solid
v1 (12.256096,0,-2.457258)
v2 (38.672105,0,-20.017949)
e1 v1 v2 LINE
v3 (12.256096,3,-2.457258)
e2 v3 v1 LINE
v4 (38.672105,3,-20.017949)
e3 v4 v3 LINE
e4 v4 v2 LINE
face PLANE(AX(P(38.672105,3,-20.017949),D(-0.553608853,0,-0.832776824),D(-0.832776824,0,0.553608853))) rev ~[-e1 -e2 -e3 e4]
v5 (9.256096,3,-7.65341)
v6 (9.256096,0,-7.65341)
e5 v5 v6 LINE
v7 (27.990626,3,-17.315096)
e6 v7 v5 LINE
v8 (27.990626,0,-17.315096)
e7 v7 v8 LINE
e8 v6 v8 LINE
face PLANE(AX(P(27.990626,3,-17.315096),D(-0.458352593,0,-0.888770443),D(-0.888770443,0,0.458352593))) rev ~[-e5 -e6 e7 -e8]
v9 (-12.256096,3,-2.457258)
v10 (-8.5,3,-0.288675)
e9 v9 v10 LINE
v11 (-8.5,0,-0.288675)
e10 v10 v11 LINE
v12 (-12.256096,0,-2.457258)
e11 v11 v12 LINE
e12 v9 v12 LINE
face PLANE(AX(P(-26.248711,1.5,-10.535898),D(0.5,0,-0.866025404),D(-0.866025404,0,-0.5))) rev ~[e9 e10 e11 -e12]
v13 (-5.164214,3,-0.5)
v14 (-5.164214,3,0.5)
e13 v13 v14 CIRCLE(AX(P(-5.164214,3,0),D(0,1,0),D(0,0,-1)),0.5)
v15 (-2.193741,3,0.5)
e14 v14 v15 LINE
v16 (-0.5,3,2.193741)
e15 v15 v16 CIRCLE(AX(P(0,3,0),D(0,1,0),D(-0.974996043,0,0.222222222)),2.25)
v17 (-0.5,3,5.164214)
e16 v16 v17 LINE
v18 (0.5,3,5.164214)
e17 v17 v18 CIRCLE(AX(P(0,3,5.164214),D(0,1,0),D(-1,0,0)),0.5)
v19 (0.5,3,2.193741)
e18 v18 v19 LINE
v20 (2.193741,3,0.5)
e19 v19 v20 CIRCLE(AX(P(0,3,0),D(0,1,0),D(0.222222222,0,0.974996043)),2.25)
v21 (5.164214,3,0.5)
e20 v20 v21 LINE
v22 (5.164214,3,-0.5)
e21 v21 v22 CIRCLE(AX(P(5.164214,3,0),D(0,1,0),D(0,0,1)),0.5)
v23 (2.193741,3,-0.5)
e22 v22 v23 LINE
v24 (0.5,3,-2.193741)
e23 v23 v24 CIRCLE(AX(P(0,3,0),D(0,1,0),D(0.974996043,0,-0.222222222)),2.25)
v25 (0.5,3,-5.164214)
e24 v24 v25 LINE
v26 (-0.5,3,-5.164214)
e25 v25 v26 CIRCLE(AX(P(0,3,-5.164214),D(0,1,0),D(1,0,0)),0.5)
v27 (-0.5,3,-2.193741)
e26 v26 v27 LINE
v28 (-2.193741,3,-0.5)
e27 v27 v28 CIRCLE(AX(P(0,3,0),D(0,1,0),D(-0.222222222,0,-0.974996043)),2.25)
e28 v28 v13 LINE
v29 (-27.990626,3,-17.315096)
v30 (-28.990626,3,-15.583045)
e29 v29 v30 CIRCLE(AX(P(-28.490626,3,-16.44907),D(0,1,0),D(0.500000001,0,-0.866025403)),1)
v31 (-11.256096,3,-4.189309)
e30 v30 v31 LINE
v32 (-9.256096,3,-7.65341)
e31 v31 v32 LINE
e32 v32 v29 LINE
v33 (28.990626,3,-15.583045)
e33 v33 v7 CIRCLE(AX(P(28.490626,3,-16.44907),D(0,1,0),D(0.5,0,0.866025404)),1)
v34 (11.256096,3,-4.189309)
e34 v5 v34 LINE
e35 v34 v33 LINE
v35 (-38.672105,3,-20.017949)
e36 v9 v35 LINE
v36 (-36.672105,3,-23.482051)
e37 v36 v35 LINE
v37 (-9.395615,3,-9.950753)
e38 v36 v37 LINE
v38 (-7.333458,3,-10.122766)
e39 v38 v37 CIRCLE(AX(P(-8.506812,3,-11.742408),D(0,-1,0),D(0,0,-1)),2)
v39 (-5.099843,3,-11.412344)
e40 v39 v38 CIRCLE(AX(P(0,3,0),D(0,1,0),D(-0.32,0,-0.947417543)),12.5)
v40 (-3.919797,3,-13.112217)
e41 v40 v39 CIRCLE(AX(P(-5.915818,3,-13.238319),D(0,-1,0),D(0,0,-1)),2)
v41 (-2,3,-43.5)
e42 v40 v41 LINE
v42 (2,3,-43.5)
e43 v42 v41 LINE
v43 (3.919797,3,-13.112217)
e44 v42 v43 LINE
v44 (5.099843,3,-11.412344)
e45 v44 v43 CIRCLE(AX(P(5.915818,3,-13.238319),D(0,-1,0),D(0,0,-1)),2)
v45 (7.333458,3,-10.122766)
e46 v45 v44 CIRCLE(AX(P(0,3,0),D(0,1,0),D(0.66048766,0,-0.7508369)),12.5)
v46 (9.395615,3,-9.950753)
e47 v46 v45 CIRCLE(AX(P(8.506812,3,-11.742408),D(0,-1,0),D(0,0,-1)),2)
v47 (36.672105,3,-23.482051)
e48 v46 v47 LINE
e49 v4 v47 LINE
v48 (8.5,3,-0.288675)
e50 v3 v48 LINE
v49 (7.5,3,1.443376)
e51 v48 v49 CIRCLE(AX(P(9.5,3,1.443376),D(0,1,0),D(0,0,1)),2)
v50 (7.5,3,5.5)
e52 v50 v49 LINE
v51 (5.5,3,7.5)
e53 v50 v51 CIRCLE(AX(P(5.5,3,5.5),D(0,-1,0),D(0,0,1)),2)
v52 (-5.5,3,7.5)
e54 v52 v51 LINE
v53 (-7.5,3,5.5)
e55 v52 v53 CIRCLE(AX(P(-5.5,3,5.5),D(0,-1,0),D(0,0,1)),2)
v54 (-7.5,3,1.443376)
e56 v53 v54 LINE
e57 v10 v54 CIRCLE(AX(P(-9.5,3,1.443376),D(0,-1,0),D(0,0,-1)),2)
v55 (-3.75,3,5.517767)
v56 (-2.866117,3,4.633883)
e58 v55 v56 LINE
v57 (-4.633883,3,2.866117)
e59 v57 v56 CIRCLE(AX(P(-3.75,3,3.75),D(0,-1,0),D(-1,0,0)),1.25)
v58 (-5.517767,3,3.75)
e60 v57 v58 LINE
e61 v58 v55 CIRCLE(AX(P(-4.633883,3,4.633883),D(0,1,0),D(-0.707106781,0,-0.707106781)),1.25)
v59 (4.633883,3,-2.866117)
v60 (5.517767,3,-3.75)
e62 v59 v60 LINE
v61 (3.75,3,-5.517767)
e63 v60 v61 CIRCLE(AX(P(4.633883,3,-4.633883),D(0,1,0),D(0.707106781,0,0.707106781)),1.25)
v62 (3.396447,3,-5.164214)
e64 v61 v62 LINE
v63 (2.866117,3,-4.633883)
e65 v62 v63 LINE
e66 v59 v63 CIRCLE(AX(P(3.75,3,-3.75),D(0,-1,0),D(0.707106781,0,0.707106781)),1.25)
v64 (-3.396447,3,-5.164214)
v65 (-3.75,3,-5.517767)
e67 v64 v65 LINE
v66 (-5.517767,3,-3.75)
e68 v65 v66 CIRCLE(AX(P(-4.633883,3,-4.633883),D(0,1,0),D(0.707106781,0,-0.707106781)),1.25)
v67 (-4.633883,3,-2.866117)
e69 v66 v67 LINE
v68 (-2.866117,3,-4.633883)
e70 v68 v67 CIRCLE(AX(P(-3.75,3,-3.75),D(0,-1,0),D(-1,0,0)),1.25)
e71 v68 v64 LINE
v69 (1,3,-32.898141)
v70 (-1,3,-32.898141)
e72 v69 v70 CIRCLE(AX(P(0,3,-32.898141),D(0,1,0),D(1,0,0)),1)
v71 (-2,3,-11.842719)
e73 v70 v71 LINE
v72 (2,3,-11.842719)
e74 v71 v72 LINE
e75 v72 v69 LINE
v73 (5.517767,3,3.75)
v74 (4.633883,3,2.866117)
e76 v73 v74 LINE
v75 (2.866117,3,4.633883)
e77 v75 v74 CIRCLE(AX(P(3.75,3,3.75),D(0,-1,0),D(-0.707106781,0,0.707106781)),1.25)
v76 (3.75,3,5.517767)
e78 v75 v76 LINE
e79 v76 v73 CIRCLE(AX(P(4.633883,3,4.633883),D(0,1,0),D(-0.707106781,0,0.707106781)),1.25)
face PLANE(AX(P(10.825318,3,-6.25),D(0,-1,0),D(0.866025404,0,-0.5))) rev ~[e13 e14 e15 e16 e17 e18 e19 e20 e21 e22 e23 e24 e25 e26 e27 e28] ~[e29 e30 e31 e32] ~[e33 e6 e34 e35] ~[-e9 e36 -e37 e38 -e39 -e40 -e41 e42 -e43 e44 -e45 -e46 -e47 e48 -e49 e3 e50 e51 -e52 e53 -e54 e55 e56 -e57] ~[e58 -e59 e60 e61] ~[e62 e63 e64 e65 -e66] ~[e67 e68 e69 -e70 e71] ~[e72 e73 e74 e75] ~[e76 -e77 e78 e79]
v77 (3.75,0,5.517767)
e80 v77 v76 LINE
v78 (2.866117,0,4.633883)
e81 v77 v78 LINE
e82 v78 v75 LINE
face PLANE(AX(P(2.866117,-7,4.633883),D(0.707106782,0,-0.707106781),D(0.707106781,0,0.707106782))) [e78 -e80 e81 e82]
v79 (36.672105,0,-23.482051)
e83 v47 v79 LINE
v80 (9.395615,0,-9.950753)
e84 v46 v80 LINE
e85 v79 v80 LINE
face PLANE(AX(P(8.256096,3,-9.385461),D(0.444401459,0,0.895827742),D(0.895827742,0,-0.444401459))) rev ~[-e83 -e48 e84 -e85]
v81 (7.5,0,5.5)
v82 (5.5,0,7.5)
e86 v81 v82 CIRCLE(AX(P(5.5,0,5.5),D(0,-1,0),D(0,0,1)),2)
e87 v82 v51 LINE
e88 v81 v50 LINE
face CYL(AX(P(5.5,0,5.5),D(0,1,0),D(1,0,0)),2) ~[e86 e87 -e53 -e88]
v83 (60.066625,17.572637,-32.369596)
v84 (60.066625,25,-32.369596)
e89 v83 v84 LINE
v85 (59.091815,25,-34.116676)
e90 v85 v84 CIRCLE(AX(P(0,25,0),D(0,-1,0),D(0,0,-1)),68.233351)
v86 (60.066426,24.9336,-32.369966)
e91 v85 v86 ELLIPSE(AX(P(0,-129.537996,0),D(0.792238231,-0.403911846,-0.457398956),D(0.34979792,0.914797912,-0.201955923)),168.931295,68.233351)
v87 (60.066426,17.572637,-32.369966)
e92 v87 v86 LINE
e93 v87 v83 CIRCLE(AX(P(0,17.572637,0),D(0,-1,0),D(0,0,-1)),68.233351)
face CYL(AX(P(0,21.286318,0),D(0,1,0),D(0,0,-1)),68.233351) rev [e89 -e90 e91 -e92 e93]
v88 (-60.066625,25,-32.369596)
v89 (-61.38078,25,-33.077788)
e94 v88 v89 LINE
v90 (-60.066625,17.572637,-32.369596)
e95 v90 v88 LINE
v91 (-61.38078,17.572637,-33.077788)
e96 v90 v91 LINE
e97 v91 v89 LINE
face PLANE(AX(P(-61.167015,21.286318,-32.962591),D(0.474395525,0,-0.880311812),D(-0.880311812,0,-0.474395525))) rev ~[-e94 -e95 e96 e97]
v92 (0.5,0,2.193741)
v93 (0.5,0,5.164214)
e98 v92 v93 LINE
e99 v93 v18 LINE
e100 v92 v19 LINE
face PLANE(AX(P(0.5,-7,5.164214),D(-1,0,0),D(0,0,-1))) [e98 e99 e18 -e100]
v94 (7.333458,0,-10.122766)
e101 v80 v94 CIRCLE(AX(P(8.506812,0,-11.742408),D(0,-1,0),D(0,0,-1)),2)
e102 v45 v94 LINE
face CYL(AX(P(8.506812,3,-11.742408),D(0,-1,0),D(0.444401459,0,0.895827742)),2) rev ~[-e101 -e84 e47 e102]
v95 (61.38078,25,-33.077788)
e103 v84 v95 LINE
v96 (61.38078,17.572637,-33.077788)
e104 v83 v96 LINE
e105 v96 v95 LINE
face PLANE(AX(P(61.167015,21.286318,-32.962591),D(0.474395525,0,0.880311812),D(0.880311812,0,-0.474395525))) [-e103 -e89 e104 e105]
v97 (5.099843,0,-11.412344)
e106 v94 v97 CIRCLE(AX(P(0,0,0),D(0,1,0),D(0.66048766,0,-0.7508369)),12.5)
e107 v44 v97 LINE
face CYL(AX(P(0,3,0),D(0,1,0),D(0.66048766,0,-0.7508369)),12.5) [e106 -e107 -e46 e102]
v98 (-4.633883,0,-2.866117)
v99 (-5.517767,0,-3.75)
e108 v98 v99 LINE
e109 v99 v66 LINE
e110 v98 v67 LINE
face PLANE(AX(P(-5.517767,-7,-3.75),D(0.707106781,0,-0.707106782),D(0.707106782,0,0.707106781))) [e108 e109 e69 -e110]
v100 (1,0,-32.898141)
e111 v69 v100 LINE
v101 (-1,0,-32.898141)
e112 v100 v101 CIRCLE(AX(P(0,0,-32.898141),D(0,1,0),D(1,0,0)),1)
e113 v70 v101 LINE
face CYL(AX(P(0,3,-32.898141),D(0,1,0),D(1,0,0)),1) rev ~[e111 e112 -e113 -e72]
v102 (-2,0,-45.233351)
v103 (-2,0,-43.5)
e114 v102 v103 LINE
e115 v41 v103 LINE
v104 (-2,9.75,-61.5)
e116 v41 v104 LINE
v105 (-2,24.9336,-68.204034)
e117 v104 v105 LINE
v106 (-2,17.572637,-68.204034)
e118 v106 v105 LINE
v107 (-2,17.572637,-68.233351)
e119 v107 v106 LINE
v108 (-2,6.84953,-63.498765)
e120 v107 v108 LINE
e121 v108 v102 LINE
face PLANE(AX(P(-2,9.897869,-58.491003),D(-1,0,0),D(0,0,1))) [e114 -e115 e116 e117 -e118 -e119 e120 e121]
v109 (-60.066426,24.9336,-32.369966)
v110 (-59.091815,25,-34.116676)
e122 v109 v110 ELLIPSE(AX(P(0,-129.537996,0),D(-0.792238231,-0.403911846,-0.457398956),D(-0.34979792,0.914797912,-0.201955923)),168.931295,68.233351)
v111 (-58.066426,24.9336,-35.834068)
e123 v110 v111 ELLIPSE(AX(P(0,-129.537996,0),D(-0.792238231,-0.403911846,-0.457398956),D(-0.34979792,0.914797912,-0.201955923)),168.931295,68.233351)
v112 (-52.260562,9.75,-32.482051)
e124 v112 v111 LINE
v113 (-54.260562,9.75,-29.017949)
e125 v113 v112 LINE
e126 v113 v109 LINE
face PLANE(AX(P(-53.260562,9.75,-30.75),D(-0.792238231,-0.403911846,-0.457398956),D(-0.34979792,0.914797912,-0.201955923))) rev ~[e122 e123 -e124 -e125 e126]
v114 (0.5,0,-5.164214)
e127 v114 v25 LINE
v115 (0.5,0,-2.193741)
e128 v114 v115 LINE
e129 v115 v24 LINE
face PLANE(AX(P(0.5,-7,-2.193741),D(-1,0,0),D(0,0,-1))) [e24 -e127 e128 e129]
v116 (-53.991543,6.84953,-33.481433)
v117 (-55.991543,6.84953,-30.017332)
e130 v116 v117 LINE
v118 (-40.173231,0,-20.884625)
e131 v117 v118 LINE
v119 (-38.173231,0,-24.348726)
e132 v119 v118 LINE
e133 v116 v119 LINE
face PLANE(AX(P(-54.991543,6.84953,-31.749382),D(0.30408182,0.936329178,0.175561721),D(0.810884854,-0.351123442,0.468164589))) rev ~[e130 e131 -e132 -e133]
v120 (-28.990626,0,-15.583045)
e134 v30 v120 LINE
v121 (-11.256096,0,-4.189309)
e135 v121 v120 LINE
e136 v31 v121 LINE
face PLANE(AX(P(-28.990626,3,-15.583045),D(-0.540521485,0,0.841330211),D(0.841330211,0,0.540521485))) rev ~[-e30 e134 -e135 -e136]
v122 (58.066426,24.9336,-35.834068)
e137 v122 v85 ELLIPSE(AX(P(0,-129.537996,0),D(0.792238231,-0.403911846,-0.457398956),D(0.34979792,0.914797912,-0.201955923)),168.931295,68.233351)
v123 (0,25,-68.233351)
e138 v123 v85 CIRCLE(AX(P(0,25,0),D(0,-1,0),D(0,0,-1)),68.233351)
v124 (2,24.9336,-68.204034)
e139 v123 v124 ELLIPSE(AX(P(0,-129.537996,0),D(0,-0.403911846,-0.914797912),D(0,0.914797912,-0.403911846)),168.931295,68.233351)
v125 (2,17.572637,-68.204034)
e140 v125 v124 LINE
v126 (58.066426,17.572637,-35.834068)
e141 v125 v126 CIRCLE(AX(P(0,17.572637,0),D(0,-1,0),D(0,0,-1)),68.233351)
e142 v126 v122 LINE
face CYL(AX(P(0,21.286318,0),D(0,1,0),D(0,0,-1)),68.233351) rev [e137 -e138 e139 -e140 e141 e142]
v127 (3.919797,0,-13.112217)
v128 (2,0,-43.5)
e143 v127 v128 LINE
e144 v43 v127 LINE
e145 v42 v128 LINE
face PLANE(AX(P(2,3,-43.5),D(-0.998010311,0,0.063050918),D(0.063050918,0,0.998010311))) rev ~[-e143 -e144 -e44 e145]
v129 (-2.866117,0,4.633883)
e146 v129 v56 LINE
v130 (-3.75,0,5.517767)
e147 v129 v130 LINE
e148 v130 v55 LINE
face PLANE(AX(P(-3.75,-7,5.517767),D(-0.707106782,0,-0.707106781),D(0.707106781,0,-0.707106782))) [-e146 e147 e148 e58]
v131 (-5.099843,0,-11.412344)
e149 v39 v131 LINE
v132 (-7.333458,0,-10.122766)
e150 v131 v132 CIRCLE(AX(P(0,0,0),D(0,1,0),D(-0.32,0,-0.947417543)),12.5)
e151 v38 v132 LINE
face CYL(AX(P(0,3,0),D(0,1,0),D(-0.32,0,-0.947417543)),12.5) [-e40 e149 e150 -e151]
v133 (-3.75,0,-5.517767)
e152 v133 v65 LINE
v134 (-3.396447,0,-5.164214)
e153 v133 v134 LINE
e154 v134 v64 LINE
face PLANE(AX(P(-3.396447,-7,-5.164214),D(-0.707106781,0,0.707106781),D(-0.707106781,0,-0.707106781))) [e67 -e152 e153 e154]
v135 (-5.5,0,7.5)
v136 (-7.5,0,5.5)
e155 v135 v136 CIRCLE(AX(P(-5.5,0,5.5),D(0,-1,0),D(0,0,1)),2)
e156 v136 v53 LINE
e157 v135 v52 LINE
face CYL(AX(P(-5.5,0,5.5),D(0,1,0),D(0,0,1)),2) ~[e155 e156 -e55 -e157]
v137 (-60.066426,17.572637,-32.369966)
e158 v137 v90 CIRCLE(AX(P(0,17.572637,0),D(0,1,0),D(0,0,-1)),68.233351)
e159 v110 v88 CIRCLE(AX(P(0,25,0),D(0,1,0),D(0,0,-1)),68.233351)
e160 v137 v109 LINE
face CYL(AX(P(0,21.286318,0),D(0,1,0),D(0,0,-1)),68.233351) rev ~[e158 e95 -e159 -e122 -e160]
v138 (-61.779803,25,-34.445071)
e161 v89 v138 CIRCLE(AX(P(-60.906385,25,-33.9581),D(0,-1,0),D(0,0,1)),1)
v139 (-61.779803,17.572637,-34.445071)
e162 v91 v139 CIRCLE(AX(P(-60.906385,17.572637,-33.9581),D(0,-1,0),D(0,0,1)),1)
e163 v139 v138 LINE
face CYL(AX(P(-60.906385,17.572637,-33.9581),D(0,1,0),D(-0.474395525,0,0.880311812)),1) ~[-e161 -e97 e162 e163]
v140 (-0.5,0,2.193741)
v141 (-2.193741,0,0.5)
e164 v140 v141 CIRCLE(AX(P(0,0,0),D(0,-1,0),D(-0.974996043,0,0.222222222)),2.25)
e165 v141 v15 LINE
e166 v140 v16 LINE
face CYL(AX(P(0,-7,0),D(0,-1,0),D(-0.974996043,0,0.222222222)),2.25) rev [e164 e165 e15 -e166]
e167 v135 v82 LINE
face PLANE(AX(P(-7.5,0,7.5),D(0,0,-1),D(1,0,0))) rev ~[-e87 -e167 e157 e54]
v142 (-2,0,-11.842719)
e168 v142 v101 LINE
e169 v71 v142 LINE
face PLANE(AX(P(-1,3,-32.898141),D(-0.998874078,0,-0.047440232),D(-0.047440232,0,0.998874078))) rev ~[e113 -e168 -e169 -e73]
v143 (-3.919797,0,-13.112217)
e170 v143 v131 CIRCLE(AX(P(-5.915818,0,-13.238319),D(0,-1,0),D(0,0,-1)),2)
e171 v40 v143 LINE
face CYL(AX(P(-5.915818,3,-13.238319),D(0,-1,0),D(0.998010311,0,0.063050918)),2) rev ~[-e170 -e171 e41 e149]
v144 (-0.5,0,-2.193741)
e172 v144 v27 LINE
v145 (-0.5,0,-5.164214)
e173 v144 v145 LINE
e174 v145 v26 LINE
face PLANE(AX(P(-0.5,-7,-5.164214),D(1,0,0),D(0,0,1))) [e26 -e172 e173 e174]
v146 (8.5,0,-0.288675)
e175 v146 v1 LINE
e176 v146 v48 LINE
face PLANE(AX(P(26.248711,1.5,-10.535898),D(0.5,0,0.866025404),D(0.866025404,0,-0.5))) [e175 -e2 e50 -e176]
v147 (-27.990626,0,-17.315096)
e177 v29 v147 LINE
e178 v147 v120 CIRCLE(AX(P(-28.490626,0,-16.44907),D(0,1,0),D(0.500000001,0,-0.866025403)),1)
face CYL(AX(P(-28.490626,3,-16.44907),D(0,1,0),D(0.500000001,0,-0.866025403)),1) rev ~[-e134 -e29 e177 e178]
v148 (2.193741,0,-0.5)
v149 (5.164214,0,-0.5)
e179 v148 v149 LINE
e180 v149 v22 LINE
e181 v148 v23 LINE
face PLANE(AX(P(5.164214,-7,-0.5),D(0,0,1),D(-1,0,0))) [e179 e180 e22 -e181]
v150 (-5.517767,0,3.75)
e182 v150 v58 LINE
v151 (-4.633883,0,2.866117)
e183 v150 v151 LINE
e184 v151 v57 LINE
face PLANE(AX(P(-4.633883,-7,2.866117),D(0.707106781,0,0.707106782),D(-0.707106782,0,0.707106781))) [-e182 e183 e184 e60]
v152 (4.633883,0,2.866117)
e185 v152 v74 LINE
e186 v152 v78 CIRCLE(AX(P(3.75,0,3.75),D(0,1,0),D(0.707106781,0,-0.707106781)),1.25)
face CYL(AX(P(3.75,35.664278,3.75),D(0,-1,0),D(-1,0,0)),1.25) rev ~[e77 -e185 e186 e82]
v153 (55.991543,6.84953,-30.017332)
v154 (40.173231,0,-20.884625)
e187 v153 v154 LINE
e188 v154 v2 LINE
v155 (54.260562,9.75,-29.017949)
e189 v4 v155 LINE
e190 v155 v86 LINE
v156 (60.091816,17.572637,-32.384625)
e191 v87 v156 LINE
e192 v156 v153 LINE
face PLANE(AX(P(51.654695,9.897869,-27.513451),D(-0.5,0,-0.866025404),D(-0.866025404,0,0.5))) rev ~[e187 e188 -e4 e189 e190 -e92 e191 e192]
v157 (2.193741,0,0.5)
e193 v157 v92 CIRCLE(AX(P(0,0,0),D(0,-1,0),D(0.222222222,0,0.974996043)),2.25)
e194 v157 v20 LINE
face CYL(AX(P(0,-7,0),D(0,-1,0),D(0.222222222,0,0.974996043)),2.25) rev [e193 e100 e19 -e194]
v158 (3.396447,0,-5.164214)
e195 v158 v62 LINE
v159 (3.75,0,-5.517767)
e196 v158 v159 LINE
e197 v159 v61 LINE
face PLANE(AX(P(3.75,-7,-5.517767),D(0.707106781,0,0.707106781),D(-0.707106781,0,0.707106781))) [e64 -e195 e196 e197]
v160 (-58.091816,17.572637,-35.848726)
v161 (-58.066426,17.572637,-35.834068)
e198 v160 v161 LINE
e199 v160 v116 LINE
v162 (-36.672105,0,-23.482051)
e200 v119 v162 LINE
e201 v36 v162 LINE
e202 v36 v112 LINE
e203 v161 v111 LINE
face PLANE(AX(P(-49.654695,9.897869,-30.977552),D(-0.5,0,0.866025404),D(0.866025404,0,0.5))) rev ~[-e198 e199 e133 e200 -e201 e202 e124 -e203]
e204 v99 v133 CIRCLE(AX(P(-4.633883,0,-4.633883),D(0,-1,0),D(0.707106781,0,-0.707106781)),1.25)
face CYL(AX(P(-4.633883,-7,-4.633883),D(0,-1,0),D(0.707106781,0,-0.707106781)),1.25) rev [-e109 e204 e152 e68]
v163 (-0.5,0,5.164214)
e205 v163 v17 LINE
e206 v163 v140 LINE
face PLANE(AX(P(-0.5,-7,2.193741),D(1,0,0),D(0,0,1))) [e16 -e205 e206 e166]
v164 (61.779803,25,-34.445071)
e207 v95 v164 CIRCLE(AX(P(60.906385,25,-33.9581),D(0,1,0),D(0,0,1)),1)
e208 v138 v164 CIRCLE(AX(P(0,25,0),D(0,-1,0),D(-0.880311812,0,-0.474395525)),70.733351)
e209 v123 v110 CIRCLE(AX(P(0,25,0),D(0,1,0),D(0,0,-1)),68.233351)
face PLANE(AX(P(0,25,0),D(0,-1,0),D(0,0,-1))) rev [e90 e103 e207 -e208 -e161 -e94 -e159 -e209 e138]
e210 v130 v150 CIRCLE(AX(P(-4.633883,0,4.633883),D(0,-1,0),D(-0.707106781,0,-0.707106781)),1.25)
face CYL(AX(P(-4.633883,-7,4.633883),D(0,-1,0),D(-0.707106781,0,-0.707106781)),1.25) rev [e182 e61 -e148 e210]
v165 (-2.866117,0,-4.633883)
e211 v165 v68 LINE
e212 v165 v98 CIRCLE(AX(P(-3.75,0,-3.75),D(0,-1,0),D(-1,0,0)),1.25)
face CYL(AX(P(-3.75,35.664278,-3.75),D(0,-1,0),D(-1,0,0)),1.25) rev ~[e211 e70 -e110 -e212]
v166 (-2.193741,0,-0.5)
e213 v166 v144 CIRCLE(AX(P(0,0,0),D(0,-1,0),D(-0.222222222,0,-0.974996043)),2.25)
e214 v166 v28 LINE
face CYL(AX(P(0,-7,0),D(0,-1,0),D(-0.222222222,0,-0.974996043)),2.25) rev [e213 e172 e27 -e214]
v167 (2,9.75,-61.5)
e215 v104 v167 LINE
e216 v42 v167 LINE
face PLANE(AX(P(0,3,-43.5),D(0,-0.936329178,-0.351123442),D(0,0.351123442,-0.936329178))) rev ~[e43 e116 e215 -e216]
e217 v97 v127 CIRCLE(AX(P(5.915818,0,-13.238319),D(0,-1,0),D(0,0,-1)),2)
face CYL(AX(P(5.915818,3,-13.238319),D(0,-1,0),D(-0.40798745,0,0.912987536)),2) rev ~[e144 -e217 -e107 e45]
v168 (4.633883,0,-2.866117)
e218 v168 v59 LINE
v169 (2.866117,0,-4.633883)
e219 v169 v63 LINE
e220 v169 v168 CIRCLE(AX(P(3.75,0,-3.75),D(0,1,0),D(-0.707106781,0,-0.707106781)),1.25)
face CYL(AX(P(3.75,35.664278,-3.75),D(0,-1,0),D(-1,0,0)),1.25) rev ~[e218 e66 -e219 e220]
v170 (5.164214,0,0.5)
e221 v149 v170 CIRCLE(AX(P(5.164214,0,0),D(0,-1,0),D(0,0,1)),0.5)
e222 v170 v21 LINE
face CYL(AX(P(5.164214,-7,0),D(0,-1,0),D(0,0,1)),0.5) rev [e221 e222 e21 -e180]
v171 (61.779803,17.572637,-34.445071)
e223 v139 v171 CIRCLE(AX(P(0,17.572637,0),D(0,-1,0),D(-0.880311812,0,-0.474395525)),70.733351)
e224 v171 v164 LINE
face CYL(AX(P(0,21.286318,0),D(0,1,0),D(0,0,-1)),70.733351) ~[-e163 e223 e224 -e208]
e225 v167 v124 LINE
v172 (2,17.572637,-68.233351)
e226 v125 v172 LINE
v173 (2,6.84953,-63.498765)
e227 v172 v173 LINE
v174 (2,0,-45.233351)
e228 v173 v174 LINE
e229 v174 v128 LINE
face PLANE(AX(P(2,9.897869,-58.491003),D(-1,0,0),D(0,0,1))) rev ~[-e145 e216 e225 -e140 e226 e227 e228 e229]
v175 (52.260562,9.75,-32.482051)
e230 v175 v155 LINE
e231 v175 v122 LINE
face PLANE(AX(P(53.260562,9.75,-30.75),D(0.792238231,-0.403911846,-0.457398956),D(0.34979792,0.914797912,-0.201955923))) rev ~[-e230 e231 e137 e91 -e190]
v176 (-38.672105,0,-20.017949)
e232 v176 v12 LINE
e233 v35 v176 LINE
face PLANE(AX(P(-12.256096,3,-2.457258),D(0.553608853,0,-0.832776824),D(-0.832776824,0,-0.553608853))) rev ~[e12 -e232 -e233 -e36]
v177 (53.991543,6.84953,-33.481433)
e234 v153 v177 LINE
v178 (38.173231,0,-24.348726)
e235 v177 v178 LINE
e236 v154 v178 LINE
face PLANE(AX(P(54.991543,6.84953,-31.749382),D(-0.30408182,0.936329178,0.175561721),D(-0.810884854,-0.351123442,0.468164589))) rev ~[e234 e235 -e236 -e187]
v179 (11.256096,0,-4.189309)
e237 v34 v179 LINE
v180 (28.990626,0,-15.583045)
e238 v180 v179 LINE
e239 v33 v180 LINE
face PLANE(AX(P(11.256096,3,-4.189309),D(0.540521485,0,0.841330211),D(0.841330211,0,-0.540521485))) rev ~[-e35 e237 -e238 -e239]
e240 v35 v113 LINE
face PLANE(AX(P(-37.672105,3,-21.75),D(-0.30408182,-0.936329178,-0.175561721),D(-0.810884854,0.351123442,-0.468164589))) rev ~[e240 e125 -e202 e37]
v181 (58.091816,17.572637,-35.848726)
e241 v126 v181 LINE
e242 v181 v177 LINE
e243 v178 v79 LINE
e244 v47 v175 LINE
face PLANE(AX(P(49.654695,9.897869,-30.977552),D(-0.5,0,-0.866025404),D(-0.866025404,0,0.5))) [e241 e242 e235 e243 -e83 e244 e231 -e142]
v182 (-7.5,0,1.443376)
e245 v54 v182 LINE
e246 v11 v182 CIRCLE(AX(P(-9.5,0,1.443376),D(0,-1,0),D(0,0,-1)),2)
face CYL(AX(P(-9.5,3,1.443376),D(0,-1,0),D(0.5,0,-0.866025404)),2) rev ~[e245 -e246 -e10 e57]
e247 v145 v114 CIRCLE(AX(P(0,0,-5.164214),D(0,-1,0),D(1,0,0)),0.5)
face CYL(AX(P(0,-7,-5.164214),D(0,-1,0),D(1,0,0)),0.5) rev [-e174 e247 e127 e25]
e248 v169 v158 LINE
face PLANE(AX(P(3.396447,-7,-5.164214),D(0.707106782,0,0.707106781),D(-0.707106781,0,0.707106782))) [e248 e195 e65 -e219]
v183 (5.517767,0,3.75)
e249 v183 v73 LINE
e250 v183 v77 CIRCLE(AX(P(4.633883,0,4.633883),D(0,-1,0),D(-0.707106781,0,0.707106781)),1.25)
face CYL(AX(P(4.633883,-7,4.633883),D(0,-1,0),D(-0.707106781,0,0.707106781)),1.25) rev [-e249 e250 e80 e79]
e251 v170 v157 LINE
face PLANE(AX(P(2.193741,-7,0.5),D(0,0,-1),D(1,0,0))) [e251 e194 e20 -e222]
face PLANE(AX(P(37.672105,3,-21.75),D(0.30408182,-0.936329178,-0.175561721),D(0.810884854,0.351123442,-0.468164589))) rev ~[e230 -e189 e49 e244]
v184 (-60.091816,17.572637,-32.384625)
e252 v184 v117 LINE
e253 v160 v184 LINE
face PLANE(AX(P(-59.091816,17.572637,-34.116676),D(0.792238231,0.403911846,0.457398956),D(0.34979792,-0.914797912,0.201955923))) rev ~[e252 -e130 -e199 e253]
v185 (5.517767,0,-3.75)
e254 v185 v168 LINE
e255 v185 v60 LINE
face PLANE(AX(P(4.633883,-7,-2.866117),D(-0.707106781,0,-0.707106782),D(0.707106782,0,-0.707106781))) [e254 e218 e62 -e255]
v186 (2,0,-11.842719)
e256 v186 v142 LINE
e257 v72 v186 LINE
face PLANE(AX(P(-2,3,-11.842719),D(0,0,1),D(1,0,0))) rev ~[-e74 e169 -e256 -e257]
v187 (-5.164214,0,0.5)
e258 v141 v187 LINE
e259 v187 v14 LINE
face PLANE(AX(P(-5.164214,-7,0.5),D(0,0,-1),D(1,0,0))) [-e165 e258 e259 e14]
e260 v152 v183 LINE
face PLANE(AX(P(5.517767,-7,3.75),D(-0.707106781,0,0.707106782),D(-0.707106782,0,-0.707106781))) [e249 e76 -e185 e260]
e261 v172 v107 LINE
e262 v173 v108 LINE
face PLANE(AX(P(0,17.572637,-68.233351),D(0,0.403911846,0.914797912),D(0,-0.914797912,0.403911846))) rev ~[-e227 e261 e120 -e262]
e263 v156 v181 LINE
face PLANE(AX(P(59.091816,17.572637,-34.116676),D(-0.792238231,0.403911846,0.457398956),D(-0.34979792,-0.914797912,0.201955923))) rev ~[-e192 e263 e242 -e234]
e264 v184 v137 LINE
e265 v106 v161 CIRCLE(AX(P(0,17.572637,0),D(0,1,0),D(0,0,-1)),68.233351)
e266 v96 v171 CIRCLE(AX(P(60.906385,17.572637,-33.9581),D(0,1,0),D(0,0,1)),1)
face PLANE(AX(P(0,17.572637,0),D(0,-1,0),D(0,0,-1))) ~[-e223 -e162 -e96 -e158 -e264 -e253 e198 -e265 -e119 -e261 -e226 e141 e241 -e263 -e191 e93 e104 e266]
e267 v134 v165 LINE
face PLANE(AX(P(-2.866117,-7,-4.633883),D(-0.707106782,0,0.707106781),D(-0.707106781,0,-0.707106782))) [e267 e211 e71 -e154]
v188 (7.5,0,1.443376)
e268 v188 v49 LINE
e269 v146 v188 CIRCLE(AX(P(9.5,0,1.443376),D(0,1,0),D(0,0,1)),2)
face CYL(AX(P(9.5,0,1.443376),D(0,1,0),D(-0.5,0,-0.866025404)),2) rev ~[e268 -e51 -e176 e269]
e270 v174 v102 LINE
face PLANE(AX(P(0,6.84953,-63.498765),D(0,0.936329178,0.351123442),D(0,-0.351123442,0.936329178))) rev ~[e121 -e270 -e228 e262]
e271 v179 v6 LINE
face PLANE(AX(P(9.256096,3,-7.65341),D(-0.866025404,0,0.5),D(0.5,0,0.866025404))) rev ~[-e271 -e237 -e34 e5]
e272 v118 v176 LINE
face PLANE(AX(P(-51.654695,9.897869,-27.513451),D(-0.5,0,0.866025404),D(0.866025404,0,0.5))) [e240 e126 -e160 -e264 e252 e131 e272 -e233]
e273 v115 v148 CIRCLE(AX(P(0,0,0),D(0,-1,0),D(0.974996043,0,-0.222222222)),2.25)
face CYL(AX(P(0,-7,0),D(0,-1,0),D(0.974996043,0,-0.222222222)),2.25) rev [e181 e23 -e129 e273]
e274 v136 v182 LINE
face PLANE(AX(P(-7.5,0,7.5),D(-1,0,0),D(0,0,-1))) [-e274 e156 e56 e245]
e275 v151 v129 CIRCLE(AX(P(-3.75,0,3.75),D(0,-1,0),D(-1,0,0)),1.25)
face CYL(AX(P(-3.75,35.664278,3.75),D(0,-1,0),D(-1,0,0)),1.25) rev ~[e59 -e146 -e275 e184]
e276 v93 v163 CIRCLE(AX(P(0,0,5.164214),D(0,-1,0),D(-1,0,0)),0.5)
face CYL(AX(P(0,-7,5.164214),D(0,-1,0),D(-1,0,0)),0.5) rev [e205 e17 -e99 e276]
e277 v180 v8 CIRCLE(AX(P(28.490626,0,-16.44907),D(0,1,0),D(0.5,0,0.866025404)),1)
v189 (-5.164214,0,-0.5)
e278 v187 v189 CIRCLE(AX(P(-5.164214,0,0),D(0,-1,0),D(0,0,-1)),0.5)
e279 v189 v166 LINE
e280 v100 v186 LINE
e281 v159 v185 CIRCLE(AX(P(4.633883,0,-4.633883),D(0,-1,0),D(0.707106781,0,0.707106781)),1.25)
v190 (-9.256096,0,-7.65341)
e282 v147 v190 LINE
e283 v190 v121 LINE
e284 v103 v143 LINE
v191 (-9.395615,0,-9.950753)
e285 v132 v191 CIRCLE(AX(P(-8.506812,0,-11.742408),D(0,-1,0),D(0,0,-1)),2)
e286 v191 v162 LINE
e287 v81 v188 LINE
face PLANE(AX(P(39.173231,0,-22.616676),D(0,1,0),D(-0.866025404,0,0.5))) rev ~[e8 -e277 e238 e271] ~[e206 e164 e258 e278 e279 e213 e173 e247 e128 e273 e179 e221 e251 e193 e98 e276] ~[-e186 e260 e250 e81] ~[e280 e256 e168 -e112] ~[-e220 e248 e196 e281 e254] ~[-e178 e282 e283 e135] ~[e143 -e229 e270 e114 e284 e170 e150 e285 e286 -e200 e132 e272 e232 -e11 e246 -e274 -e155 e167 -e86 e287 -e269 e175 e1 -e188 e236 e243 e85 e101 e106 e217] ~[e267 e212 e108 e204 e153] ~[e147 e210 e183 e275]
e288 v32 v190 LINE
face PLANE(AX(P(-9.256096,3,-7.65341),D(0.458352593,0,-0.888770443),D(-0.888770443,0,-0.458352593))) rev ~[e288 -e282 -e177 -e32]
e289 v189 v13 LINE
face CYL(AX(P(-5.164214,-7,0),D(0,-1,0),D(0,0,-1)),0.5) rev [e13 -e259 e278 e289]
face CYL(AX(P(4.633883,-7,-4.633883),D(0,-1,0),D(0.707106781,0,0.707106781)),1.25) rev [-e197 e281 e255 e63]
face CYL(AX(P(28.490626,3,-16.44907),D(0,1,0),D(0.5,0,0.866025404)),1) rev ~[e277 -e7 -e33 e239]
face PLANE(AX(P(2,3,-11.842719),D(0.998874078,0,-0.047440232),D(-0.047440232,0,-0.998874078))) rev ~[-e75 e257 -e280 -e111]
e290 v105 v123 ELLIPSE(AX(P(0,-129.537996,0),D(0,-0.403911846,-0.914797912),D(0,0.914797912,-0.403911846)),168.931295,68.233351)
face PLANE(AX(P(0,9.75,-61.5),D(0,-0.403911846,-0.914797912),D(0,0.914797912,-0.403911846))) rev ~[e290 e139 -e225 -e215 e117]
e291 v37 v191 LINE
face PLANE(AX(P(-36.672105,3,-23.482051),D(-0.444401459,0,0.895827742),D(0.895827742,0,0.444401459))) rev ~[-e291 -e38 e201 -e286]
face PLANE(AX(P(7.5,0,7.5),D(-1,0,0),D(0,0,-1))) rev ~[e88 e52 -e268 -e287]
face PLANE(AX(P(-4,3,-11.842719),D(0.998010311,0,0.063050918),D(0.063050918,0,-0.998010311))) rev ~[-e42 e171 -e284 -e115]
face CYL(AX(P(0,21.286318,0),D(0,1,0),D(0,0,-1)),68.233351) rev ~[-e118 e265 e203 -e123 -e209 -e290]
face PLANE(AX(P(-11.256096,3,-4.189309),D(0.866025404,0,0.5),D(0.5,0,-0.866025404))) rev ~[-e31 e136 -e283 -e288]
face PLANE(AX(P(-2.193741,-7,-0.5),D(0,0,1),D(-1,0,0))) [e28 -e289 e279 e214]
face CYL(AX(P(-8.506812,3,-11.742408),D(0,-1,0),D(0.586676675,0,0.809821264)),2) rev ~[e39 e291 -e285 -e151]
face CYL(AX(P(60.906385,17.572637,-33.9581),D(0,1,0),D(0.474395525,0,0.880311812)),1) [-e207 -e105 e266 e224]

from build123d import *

# Parameters (mm, degrees)
SKETCH1_W                       = 15
SKETCH1_H                       = 15
BOSS_EXTRUDE1_DEPTH             = 3
BOSS_EXTRUDE2_START             = -1.18
SKETCH7_W                       = 8
SKETCH7_H                       = 3
BOSS_EXTRUDE2_DEPTH             = 6.18
CIRPATTERN2_COUNT               = 2
CIRPATTERN2_ANGLE               = 60
CIRPATTERN2_THE_OTHER_WAY_COUNT = 2
CIRPATTERN2_THE_OTHER_WAY_ANGLE = 60
TAP_DRILL_FOR_M3_TAP1_D         = 2.5
BOSS_EXTRUDE4_DEPTH             = 3
CUT_EXTRUDE1_START              = -10
CUT_EXTRUDE1_DEPTH              = 10
FILLET12_R                      = 2
SKETCH22_W                      = 31
SKETCH22_H                      = 3
BOSS_EXTRUDE11_DEPTH            = 4
CIRPATTERN8_COUNT               = 2
CIRPATTERN8_ANGLE               = 60
CIRPATTERN8_THE_OTHER_WAY_COUNT = 2
CIRPATTERN8_THE_OTHER_WAY_ANGLE = 60
CUT_EXTRUDE2_DEPTH              = 15
FILLET13_R                      = 2
BOSS_EXTRUDE12_DEPTH            = 2
CIRPATTERN9_COUNT               = 2
CIRPATTERN9_ANGLE               = 60
CIRPATTERN9_THE_OTHER_WAY_COUNT = 2
CIRPATTERN9_THE_OTHER_WAY_ANGLE = 60
SKETCH25_W                      = 2.5
SKETCH25_H                      = 7.427363245
REVOLVE1_ANGLE                  = 61.68
REVOLVE1_OTHER_WAY_ANGLE        = 61.68
FILLET14_R                      = 1


with BuildPart() as part:
    # Sketch1 → Boss-Extrude1 (new body)
    with BuildSketch(Plane(origin=(0, 0, 0), x_dir=(1, 0, 0), z_dir=(0, 1, 0))):
        Rectangle(SKETCH1_W, SKETCH1_H)
    extrude(amount=BOSS_EXTRUDE1_DEPTH)

    # Sketch7 → Boss-Extrude2 (add)
    with BuildSketch(Plane(origin=(0, 0, -7.5), x_dir=(-1, 0, 0), z_dir=(0, 0, -1)).offset(BOSS_EXTRUDE2_START)):
        with Locations((0, 1.5)):
            Rectangle(SKETCH7_W, SKETCH7_H)
    boss_extrude2 = extrude(amount=BOSS_EXTRUDE2_DEPTH)

    # CirPattern2: Boss-Extrude2 ×2 about axis
    cirpattern2_axis = Axis((0, 0, 0), (0, -1, 0))
    for i in range(1, CIRPATTERN2_COUNT):
        add(boss_extrude2.rotate(cirpattern2_axis, i * CIRPATTERN2_ANGLE / (CIRPATTERN2_COUNT - 1)))

    # CirPattern2 the other way: Boss-Extrude2 ×2 about axis
    cirpattern2_the_other_way_axis = Axis((0, 0, 0), (0, 1, 0))
    for i in range(1, CIRPATTERN2_THE_OTHER_WAY_COUNT):
        add(boss_extrude2.rotate(cirpattern2_the_other_way_axis, i * CIRPATTERN2_THE_OTHER_WAY_ANGLE / (CIRPATTERN2_THE_OTHER_WAY_COUNT - 1)))

    # Tap Drill for M3 Tap1 (through all)
    with Locations(Plane(origin=(0, 3, 0), x_dir=(1, 0, 0), z_dir=(0, 1, 0))):
        with Locations((-3.75, -3.75), (-3.75, 3.75), (3.75, -3.75), (3.75, 3.75)):
            Hole(TAP_DRILL_FOR_M3_TAP1_D / 2)

    # Sketch10 → Boss-Extrude4 (add)
    with BuildSketch(Plane(origin=(0, 3, 0), x_dir=(1, 0, 0), z_dir=(0, 1, 0))):
        with BuildLine():
            Line((4.990381057, 7.5), (8.256095748, 9.385461256))
            ThreePointArc((8.256095748, 9.385461256), (6.25, 10.825317547), (4, 11.842719282))
            Line((4, 11.842719282), (4, 7.5))
            Line((4, 7.5), (4.990381057, 7.5))
        make_face()
        with BuildLine():
            ThreePointArc((-4, 11.842719282), (-6.25, 10.825317547), (-8.256095748, 9.385461256))
            Line((-8.256095748, 9.385461256), (-4.990381057, 7.5))
            Line((-4.990381057, 7.5), (-4, 7.5))
            Line((-4, 7.5), (-4, 11.842719282))
        make_face()
    extrude(amount=-BOSS_EXTRUDE4_DEPTH)

    # Sketch21 → Cut-Extrude1 (cut)
    with BuildSketch(Plane(origin=(0, 3, 0), x_dir=(1, 0, 0), z_dir=(0, 1, 0)).offset(CUT_EXTRUDE1_START)):
        with BuildLine():
            ThreePointArc((-4.633883476, 2.866116524), (-4.633883476, 4.633883476), (-2.866116524, 4.633883476))
            Line((-2.866116524, 4.633883476), (-3.396446609, 5.164213562))
            Line((-3.396446609, 5.164213562), (-3.75, 5.517766953))
            ThreePointArc((-3.75, 5.517766953), (-5.517766953, 5.517766953), (-5.517766953, 3.75))
            Line((-5.517766953, 3.75), (-4.633883476, 2.866116524))
        make_face()
        with BuildLine():
            ThreePointArc((-0.5, 2.193741097), (-1.590990258, 1.590990258), (-2.193741097, 0.5))
            Line((-2.193741097, 0.5), (-5.164213562, 0.5))
            ThreePointArc((-5.164213562, 0.5), (-5.664213562, 0), (-5.164213562, -0.5))
            Line((-5.164213562, -0.5), (-2.193741097, -0.5))
            ThreePointArc((-2.193741097, -0.5), (-1.590990258, -1.590990258), (-0.5, -2.193741097))
            Line((-0.5, -2.193741097), (-0.5, -5.164213562))
            ThreePointArc((-0.5, -5.164213562), (0, -5.664213562), (0.5, -5.164213562))
            Line((0.5, -5.164213562), (0.5, -2.193741097))
            ThreePointArc((0.5, -2.193741097), (1.590990258, -1.590990258), (2.193741097, -0.5))
            Line((2.193741097, -0.5), (5.164213562, -0.5))
            ThreePointArc((5.164213562, -0.5), (5.664213562, 0), (5.164213562, 0.5))
            Line((5.164213562, 0.5), (2.193741097, 0.5))
            ThreePointArc((2.193741097, 0.5), (1.590990258, 1.590990258), (0.5, 2.193741097))
            Line((0.5, 2.193741097), (0.5, 5.164213562))
            ThreePointArc((0.5, 5.164213562), (0, 5.664213562), (-0.5, 5.164213562))
            Line((-0.5, 5.164213562), (-0.5, 2.193741097))
        make_face()
        with BuildLine():
            Line((3.75, 5.517766953), (3.396446609, 5.164213562))
            Line((3.396446609, 5.164213562), (2.866116524, 4.633883476))
            ThreePointArc((2.866116524, 4.633883476), (4.633883476, 4.633883476), (4.633883476, 2.866116524))
            Line((4.633883476, 2.866116524), (5.517766953, 3.75))
            ThreePointArc((5.517766953, 3.75), (5.517766953, 5.517766953), (3.75, 5.517766953))
        make_face()
        with BuildLine():
            Line((5.517766953, -3.75), (4.633883476, -2.866116524))
            ThreePointArc((4.633883476, -2.866116524), (4.633883476, -4.633883476), (2.866116524, -4.633883476))
            Line((2.866116524, -4.633883476), (3.75, -5.517766953))
            ThreePointArc((3.75, -5.517766953), (5.517766953, -5.517766953), (5.517766953, -3.75))
        make_face()
        with BuildLine():
            Line((-4.633883476, -2.866116524), (-5.517766953, -3.75))
            ThreePointArc((-5.517766953, -3.75), (-5.517766953, -5.517766953), (-3.75, -5.517766953))
            Line((-3.75, -5.517766953), (-2.866116524, -4.633883476))
            ThreePointArc((-2.866116524, -4.633883476), (-4.633883476, -4.633883476), (-4.633883476, -2.866116524))
        make_face()
    extrude(amount=CUT_EXTRUDE1_DEPTH, mode=Mode.SUBTRACT)

    # Fillet12
    fillet12_edges = [part.edges().sort_by_distance(p)[0] for p in [
        (7.5, 1.5, 7.5),
        (-7.5, 1.5, 7.5),
    ]]
    fillet(fillet12_edges, radius=FILLET12_R)

    # Sketch22 → Boss-Extrude11 (add, symmetric)
    with BuildSketch(Plane(origin=(0, 0, 0), x_dir=(0, 0, -1), z_dir=(1, 0, 0))):
        with Locations((28, 1.5)):
            Rectangle(SKETCH22_W, SKETCH22_H)
    boss_extrude11 = extrude(amount=BOSS_EXTRUDE11_DEPTH, both=True)

    # CirPattern8: Boss-Extrude11 ×2 about axis
    cirpattern8_axis = Axis((0, 0, 0), (0, 1, 0))
    for i in range(1, CIRPATTERN8_COUNT):
        add(boss_extrude11.rotate(cirpattern8_axis, i * CIRPATTERN8_ANGLE / (CIRPATTERN8_COUNT - 1)))

    # CirPattern8 the other way: Boss-Extrude11 ×2 about axis
    cirpattern8_the_other_way_axis = Axis((0, 0, 0), (0, -1, 0))
    for i in range(1, CIRPATTERN8_THE_OTHER_WAY_COUNT):
        add(boss_extrude11.rotate(cirpattern8_the_other_way_axis, i * CIRPATTERN8_THE_OTHER_WAY_ANGLE / (CIRPATTERN8_THE_OTHER_WAY_COUNT - 1)))

    # Sketch23 → Cut-Extrude2 (cut)
    with BuildSketch(Plane(origin=(0, 3, 0), x_dir=(1, 0, 0), z_dir=(0, 1, 0))):
        with BuildLine():
            Line((0, 11.842719282), (2, 11.842719282))
            Line((2, 11.842719282), (1, 32.898140757))
            ThreePointArc((1, 32.898140757), (0, 33.898140757), (-1, 32.898140757))
            Line((-1, 32.898140757), (-2, 11.842719282))
            Line((-2, 11.842719282), (0, 11.842719282))
        make_face()
        Polygon((2, 43.5), (4, 11.842719282), (4, 43.5), align=None)
        Polygon((35.672105065, 25.214101615), (8.256095748, 9.385461256), (36.672105065, 23.482050808), align=None)
        Polygon((-4, 43.5), (-4, 11.842719282), (-2, 43.5), align=None)
        with BuildLine():
            Line((27.990625633, 17.315095782), (9.256095748, 7.653410449))
            Line((9.256095748, 7.653410449), (11.256095748, 4.189308834))
            Line((11.256095748, 4.189308834), (28.990625633, 15.583044975))
            ThreePointArc((28.990625633, 15.583044975), (29.356651037, 16.949070379), (27.990625633, 17.315095782))
        make_face()
        Polygon((-36.672105065, 23.482050808), (-8.256095748, 9.385461256), (-35.672105065, 25.214101615), align=None)
        Polygon((39.672105065, 18.285898385), (38.672105065, 20.017949192), (12.256095748, 2.457258026), align=None)
        with BuildLine():
            Line((-11.256095748, 4.189308834), (-9.256095748, 7.653410449))
            Line((-9.256095748, 7.653410449), (-27.990625633, 17.315095782))
            ThreePointArc((-27.990625633, 17.315095782), (-29.356651037, 16.949070379), (-28.990625633, 15.583044975))
            Line((-28.990625633, 15.583044975), (-11.256095748, 4.189308834))
        make_face()
        Polygon((-12.256095748, 2.457258026), (-38.672105065, 20.017949192), (-39.672105065, 18.285898385), align=None)
    extrude(amount=-CUT_EXTRUDE2_DEPTH, mode=Mode.SUBTRACT)

    # Fillet13
    fillet13_edges = [part.edges().sort_by_distance(p)[0] for p in [
        (4, 1.5, -11.842719282),
        (8.256095748, 1.5, -9.385461256),
        (12.256095748, 1.5, -2.457258026),
        (-12.256095748, 1.5, -2.457258026),
        (7.5, 1.5, 0.288675135),
        (-7.5, 1.5, 0.288675135),
        (-8.256095748, 1.5, -9.385461256),
        (-4, 1.5, -11.842719282),
    ]]
    fillet(fillet13_edges, radius=FILLET13_R)

    # Sketch24 → Boss-Extrude12 (add, symmetric)
    with BuildSketch(Plane(origin=(0, 0, 0), x_dir=(0, 0, -1), z_dir=(1, 0, 0))):
        Polygon((68.233351235, 25), (68.233351235, 17.572636755), (63.498764769, 6.849530075), (45.233351235, 0), (43.5, 0), (43.5, 3), (61.5, 9.75), align=None)
    boss_extrude12 = extrude(amount=BOSS_EXTRUDE12_DEPTH, both=True)

    # CirPattern9: Boss-Extrude12 ×2 about axis
    cirpattern9_axis = Axis((0, 0, 0), (0, 1, 0))
    for i in range(1, CIRPATTERN9_COUNT):
        add(boss_extrude12.rotate(cirpattern9_axis, i * CIRPATTERN9_ANGLE / (CIRPATTERN9_COUNT - 1)))

    # CirPattern9 the other way: Boss-Extrude12 ×2 about axis
    cirpattern9_the_other_way_axis = Axis((0, 0, 0), (0, -1, 0))
    for i in range(1, CIRPATTERN9_THE_OTHER_WAY_COUNT):
        add(boss_extrude12.rotate(cirpattern9_the_other_way_axis, i * CIRPATTERN9_THE_OTHER_WAY_ANGLE / (CIRPATTERN9_THE_OTHER_WAY_COUNT - 1)))

    # Sketch25 → Revolve1 (revolve)
    with BuildSketch(Plane(origin=(0, 0, 0), x_dir=(0, 0, -1), z_dir=(1, 0, 0))):
        with Locations((69.483351235, 21.286318378)):
            Rectangle(SKETCH25_W, SKETCH25_H)
    revolve(axis=Axis((0, 0, 0), (0, 1, 0)), revolution_arc=REVOLVE1_ANGLE)

    # Sketch25 → Revolve1 other way (revolve)
    with BuildSketch(Plane(origin=(0, 0, 0), x_dir=(0, 0, -1), z_dir=(1, 0, 0))):
        with Locations((69.483351235, 21.286318378)):
            Rectangle(SKETCH25_W, SKETCH25_H)
    revolve(axis=Axis((0, 0, 0), (0, -1, 0)), revolution_arc=REVOLVE1_OTHER_WAY_ANGLE)

    # Fillet14
    fillet14_edges = [part.edges().sort_by_distance(p)[0] for p in [
        (-62.267404585, 21.286318378, -33.555585275),
        (62.267404585, 21.286318378, -33.555585275),
    ]]
    fillet(fillet14_edges, radius=FILLET14_R)


solid = part.part
